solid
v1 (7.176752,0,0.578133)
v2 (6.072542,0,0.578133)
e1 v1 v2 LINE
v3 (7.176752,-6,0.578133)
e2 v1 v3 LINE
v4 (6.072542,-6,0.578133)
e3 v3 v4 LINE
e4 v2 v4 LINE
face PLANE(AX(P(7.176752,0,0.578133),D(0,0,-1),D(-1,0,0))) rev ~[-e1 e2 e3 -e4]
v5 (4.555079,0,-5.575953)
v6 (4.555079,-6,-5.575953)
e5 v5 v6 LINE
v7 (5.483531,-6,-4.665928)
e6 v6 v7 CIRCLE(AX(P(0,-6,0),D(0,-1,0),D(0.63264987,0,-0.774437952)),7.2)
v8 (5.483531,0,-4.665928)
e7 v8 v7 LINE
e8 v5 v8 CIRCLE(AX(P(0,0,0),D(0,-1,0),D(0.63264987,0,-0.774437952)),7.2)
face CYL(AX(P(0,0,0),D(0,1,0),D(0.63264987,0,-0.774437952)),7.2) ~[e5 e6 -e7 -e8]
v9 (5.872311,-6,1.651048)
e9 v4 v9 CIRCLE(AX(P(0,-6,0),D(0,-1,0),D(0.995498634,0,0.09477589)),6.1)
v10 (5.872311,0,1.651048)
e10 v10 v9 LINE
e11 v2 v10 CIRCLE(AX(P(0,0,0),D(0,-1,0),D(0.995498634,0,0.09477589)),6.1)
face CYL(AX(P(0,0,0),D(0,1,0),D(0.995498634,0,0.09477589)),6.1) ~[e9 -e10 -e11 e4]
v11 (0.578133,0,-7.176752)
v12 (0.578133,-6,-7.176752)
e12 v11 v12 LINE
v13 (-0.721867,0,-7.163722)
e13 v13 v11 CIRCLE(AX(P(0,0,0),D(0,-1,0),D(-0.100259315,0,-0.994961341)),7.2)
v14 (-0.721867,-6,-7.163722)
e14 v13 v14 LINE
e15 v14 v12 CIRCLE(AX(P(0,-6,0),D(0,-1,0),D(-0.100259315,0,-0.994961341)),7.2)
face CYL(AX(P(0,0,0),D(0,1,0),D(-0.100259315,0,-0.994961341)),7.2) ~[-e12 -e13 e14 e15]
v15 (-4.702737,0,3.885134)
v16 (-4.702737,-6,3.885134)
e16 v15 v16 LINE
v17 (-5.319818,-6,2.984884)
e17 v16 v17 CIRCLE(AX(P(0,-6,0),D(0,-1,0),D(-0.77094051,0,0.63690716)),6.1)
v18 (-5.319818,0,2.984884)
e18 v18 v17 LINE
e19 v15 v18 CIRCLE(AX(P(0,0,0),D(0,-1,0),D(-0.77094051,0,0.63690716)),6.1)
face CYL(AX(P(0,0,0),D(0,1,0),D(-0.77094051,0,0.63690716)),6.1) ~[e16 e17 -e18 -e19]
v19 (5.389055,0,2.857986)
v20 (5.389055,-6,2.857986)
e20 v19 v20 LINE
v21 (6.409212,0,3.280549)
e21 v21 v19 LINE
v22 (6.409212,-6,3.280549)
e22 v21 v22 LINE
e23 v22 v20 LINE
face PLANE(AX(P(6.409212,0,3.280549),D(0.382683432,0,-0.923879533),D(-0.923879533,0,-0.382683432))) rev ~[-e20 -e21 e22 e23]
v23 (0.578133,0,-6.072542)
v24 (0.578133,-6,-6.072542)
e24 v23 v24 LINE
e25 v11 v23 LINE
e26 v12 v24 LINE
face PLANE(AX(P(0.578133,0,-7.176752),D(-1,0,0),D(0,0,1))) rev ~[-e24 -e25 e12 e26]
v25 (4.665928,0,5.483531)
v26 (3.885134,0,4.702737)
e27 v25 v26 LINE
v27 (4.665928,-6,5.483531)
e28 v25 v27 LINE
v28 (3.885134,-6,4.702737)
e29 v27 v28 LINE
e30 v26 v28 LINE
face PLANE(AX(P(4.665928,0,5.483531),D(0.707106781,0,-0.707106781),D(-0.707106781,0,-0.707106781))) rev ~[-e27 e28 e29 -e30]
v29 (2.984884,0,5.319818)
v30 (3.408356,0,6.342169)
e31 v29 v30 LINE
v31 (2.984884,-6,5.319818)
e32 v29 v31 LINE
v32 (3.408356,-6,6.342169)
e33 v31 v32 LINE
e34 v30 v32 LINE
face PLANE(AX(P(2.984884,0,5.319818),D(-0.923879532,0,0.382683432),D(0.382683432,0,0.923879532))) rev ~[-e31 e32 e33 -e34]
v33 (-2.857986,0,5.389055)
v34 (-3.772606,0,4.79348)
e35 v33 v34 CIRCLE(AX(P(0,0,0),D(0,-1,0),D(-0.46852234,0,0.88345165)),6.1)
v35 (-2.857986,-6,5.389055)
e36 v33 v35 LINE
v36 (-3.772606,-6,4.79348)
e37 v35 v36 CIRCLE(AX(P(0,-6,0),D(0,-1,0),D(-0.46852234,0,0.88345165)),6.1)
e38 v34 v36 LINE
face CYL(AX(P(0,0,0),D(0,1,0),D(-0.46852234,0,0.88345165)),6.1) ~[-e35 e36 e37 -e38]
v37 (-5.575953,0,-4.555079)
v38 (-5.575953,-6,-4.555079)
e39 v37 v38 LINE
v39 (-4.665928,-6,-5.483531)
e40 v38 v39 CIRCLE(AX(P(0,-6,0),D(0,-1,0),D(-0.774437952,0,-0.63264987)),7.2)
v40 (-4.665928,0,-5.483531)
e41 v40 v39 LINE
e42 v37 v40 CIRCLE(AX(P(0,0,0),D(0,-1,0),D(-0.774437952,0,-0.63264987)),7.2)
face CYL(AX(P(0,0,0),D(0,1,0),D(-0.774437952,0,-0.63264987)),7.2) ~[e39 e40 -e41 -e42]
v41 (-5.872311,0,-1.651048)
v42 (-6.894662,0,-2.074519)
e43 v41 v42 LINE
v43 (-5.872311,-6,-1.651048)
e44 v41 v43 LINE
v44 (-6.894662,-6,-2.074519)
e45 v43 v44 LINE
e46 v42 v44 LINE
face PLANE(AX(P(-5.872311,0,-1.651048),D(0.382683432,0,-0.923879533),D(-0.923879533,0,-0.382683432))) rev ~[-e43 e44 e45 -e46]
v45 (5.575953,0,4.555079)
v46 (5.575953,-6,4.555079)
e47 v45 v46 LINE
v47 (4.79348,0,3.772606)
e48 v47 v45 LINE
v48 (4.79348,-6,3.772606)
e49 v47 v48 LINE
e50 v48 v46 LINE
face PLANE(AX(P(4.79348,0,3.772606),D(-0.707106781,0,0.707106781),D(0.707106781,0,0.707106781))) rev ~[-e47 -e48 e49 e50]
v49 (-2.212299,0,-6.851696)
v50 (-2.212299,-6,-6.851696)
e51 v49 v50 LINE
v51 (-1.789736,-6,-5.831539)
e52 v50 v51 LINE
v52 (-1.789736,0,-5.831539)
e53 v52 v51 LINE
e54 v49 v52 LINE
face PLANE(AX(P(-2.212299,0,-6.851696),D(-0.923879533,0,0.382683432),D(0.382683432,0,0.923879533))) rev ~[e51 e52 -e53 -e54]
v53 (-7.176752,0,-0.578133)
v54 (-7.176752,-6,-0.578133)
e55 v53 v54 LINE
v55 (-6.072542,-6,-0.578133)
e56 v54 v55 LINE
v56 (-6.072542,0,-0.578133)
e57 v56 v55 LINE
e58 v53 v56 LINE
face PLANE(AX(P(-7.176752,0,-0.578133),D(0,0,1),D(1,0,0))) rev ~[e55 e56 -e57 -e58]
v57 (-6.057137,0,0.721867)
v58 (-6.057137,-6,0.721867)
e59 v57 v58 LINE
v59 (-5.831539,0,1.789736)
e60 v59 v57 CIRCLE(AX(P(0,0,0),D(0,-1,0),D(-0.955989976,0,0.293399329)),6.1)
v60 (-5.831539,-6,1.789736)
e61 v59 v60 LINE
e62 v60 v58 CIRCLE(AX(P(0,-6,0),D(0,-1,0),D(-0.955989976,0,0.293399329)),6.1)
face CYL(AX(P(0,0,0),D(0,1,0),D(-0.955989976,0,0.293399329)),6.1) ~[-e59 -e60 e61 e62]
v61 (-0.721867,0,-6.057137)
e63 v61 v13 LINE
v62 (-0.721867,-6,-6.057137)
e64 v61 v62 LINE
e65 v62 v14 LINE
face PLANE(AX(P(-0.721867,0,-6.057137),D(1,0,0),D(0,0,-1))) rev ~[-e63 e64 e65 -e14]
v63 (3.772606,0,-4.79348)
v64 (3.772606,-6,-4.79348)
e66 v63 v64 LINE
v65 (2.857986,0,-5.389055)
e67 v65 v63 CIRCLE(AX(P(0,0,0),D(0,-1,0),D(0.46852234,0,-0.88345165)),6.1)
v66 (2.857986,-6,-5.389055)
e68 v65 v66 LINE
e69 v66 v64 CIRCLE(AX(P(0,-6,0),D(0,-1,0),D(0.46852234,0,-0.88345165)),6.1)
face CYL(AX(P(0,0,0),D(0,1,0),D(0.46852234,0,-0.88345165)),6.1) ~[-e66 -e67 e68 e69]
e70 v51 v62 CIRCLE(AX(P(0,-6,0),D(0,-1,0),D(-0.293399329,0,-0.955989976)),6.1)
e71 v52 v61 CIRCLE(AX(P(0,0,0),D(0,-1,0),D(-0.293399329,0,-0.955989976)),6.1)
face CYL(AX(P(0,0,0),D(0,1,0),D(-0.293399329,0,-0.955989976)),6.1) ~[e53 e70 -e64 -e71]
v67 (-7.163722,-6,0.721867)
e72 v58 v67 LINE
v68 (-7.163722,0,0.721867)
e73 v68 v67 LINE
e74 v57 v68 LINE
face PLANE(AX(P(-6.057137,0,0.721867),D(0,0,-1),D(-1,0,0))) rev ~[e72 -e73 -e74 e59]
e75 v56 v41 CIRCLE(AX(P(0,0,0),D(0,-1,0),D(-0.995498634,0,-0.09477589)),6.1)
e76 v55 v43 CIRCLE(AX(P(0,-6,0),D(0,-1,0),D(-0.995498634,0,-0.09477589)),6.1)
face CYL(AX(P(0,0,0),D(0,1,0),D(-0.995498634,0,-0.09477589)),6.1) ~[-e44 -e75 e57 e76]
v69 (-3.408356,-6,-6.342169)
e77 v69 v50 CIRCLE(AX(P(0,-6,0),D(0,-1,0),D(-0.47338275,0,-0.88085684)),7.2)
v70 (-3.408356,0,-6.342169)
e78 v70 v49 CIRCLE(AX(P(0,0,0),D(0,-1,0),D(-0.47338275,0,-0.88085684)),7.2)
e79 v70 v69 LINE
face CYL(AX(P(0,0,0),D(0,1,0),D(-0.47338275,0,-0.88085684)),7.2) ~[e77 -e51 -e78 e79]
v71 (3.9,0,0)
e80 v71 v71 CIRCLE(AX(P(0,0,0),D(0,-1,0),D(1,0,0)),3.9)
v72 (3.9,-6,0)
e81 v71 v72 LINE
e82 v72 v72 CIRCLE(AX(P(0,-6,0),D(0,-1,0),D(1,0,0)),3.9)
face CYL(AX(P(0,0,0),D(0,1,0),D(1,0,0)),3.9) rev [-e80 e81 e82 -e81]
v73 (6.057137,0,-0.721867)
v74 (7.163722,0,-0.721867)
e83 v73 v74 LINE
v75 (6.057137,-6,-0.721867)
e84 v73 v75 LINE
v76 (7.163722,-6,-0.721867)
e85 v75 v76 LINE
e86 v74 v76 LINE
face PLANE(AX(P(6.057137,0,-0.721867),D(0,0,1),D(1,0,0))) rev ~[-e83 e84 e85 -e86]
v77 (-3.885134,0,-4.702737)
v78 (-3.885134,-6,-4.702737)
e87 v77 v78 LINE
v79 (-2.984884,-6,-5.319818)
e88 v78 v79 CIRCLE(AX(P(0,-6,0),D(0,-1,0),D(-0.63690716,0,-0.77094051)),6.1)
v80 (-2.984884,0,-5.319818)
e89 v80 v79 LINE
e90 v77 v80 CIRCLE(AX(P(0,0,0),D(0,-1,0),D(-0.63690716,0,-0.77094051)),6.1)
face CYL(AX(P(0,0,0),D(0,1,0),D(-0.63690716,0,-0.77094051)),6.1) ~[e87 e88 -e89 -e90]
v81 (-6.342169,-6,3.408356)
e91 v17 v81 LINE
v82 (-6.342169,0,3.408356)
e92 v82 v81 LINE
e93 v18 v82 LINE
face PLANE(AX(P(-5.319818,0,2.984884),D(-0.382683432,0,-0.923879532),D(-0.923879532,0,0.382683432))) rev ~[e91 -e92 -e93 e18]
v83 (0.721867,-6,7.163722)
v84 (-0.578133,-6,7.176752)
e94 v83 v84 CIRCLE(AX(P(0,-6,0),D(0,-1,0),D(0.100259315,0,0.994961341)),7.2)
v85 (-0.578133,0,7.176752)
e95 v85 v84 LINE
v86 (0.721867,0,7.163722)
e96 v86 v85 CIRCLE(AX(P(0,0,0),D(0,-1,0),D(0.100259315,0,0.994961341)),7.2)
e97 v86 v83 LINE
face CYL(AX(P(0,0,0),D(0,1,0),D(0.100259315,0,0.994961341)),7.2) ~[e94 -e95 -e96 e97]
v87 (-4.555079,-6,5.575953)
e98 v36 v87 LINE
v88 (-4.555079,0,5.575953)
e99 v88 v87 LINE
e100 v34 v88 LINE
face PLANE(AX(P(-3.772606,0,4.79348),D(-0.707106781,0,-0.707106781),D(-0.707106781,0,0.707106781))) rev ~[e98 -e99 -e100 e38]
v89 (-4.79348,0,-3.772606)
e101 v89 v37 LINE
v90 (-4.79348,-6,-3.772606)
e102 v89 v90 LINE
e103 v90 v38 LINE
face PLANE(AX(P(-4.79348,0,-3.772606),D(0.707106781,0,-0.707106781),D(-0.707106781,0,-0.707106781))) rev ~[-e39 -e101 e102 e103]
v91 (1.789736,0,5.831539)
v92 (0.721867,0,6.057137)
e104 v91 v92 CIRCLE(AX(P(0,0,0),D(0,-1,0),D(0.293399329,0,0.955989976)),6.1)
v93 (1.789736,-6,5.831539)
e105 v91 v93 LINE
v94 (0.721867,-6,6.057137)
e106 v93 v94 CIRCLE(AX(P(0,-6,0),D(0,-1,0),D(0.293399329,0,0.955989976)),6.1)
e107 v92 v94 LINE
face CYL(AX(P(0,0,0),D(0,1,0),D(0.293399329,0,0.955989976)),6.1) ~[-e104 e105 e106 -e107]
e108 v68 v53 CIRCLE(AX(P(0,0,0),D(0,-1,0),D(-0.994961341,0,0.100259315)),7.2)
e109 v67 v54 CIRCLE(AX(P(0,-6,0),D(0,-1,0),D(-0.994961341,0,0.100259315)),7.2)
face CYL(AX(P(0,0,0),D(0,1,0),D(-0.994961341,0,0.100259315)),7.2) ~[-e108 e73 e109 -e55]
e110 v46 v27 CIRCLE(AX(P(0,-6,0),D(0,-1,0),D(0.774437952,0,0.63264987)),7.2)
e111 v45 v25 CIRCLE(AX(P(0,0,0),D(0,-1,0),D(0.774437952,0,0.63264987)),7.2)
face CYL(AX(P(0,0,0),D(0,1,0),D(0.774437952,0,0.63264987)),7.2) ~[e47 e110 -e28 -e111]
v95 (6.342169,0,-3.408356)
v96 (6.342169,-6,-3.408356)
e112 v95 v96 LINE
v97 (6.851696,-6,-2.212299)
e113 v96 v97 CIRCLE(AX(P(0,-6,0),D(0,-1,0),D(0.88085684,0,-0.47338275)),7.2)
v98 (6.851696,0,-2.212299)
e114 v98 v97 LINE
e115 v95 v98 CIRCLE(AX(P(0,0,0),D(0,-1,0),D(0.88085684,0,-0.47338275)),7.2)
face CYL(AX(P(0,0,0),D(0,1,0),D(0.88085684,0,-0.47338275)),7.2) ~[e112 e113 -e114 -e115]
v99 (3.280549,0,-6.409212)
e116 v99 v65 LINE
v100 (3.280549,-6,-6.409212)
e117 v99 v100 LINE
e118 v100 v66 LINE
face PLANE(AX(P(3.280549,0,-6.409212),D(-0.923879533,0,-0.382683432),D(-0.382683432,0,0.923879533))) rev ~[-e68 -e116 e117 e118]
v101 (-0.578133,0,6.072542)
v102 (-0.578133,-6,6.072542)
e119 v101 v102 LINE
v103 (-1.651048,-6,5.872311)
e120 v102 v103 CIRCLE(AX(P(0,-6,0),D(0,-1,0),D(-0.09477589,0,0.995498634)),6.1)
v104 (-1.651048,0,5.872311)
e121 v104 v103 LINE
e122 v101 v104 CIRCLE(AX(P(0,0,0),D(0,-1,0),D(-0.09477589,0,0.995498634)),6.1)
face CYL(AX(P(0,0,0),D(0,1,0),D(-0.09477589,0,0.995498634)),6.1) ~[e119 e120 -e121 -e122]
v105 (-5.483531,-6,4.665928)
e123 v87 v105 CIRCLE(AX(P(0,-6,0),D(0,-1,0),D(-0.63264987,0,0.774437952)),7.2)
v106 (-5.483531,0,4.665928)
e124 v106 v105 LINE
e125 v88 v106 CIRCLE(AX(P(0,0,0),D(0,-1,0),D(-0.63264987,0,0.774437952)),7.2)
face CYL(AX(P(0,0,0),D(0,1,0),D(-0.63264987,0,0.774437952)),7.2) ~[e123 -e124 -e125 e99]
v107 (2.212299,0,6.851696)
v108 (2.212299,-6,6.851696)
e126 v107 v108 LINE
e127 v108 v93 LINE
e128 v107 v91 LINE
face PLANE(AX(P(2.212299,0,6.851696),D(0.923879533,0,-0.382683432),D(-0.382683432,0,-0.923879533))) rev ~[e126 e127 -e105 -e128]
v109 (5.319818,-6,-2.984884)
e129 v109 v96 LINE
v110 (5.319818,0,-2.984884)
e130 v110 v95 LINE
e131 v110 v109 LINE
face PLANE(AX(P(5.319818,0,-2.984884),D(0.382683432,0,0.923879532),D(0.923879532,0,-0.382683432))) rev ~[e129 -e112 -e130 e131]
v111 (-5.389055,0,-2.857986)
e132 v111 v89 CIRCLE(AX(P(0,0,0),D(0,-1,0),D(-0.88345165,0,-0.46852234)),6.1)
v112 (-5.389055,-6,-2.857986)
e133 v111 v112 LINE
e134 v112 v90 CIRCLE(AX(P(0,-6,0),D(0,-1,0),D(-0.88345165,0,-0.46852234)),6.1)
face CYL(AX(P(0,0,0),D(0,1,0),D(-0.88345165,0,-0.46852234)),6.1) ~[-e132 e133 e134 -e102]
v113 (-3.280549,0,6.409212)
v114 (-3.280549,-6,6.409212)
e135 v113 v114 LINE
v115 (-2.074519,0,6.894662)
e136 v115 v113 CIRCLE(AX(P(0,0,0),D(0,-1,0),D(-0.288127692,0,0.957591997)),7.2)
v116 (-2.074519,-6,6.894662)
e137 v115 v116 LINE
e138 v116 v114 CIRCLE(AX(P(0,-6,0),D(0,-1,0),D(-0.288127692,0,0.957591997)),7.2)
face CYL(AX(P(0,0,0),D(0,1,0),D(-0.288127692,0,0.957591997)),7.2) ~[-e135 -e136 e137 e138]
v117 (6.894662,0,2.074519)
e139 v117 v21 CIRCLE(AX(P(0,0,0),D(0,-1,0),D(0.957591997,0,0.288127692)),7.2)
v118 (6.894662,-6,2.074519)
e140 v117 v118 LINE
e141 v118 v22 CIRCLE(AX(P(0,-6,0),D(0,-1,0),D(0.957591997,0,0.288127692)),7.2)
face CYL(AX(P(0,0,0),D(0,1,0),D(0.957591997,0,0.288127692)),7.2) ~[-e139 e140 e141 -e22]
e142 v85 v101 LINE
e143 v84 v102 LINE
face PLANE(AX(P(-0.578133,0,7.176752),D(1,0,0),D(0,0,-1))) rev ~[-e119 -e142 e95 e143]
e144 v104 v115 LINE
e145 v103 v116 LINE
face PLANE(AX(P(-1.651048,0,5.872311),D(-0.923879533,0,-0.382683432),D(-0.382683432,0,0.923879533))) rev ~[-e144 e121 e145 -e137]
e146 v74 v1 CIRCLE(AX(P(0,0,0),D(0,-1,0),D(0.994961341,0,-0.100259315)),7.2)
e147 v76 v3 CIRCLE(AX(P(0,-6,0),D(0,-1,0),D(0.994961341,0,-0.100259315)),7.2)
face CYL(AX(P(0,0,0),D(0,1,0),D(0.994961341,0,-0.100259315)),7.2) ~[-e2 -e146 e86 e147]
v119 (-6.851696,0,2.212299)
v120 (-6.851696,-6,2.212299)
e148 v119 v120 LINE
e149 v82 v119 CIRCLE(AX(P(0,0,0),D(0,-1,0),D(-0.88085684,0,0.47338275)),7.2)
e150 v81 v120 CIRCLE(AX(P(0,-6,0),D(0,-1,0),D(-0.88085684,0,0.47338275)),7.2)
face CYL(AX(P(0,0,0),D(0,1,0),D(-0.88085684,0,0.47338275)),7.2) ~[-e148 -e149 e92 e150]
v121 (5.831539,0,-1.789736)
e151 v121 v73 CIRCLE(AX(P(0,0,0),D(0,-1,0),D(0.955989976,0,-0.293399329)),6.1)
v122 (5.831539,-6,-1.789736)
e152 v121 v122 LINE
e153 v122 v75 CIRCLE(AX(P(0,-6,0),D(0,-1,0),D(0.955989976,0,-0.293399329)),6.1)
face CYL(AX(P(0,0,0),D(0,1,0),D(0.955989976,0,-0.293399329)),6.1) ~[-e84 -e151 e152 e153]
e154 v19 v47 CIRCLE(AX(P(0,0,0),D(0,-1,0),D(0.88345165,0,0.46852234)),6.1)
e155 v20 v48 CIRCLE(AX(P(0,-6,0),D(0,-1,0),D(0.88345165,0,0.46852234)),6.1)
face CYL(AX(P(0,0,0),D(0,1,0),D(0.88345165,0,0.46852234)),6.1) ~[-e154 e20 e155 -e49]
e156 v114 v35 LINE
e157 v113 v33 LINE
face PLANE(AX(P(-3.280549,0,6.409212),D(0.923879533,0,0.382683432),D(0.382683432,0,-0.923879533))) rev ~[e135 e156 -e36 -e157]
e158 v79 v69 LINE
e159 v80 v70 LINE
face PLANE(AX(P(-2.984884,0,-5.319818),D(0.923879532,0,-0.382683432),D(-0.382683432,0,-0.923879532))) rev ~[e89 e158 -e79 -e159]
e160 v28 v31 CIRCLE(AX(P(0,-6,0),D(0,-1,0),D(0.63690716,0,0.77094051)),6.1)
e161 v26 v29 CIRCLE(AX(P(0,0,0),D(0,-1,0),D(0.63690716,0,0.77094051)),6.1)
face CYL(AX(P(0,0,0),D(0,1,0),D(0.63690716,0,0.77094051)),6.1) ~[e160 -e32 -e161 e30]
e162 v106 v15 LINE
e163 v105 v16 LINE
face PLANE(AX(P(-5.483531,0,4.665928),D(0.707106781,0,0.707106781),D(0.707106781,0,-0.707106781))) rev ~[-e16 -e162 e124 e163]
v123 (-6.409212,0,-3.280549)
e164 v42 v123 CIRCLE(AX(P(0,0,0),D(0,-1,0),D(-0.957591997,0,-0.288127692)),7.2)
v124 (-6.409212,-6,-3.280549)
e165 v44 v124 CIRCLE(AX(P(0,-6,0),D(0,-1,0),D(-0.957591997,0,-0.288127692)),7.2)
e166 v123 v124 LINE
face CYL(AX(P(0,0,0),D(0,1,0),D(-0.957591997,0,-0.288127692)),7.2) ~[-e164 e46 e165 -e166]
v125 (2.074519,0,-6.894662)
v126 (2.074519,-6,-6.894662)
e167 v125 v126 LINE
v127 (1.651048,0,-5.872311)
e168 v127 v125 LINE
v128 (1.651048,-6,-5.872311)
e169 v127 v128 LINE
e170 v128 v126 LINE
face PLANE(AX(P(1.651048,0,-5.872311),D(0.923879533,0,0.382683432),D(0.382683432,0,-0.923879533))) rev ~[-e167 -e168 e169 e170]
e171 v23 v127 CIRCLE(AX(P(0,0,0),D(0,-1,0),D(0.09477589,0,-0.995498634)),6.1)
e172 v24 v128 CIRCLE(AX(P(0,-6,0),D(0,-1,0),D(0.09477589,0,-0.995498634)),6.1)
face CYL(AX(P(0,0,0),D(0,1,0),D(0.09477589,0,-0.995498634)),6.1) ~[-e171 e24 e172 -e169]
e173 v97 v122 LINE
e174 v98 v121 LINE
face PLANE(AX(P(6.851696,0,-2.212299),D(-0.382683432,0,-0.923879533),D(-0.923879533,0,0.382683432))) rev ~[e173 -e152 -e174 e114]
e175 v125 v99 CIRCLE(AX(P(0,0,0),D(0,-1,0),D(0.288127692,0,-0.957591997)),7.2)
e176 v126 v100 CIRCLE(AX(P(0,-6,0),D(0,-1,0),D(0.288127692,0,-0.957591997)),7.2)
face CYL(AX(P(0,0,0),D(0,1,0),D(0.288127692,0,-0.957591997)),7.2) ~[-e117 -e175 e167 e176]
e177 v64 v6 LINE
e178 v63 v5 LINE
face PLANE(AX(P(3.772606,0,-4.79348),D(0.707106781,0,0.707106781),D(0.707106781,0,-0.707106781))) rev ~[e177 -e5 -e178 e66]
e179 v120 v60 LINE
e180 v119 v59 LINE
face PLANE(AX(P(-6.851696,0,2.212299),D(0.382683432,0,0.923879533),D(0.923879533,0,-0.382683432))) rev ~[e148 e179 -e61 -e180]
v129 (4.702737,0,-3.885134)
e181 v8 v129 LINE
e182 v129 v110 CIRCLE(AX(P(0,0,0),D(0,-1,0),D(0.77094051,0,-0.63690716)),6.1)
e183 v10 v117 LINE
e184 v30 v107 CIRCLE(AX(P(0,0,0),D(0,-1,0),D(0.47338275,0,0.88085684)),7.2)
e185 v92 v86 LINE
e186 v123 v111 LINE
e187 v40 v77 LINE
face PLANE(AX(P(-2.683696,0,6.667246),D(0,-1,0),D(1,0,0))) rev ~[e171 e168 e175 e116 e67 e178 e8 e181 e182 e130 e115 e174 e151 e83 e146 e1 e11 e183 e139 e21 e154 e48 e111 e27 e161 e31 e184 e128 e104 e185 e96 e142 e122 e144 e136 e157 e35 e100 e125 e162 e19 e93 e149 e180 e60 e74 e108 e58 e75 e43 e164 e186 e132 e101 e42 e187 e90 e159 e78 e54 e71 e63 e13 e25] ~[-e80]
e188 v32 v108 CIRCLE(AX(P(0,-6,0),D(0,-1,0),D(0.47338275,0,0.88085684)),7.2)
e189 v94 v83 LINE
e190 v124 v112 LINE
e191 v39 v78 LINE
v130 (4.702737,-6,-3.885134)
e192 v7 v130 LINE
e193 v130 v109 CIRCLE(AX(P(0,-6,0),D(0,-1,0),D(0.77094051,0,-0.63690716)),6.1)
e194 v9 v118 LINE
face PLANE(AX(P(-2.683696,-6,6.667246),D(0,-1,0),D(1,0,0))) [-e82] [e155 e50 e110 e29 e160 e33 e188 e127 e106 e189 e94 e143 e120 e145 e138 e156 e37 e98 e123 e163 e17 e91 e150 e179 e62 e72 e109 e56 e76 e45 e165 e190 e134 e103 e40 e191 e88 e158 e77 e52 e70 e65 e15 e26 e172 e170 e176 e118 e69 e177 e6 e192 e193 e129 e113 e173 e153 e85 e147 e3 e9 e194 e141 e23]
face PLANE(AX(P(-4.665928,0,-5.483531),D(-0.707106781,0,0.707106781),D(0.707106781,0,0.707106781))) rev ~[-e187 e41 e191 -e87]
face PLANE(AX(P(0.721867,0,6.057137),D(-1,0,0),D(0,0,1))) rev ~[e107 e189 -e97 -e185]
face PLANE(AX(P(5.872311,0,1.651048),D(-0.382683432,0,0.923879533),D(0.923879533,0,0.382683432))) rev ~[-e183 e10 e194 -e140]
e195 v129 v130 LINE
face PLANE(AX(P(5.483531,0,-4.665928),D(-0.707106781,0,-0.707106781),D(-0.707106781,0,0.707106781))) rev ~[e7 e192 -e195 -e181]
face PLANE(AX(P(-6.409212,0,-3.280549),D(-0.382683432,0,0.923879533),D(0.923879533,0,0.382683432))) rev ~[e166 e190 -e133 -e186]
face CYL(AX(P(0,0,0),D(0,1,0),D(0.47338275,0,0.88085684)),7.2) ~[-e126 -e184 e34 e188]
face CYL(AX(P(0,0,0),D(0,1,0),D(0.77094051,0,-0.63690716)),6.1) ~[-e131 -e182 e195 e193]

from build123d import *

# Parameters (mm, degrees)
F0_R     = 3.9
F1_DEPTH = 6


with BuildPart() as f1:
    # F0 (on Front) → F1 (new body)
    with BuildSketch(Plane.XZ):
        with BuildLine():
            ThreePointArc((-3.2805490865, 6.4092119399), (-2.6873537016, 6.6763321717), (-2.0745193822, 6.8946623799))
            ThreePointArc((-2.0745193822, 6.8946623799), (-2.68851355, 6.6792136432), (-3.2805490865, 6.4092119399))
        make_face()
        with BuildLine():
            Line((-1.6510477465, 5.8723114136), (-2.0745193822, 6.8946623799))
            ThreePointArc((-2.0745193822, 6.8946623799), (-2.6873537016, 6.6763321717), (-3.2805490865, 6.4092119399))
            Line((-3.2805490865, 6.4092119399), (-2.8579862722, 5.3890550626))
            ThreePointArc((-2.8579862722, 5.3890550626), (-2.2685531961, 5.6657387827), (-1.6510477465, 5.8723114136))
        make_face()
        with BuildLine():
            ThreePointArc((-0.5781329325, 6.0725416682), (-1.119077595, 5.9964710736), (-1.6510477465, 5.8723114136))
            ThreePointArc((-1.6510477465, 5.8723114136), (-2.2674283055, 5.662929355), (-2.8579862722, 5.3890550626))
            ThreePointArc((-2.8579862722, 5.3890550626), (-3.3286430178, 5.1117644371), (-3.7726055079, 4.793479705))
            ThreePointArc((-3.7726055079, 4.793479705), (-4.2619398457, 4.3641572785), (-4.7027371096, 3.8851336757))
            ThreePointArc((-4.7027371096, 3.8851336757), (-5.0314527154, 3.4488380032), (-5.3198182794, 2.9848841642))
            ThreePointArc((-5.3198182794, 2.9848841642), (-5.607609679, 2.4009818176), (-5.8315388526, 1.7897359054))
            ThreePointArc((-5.8315388526, 1.7897359054), (-5.9682693473, 1.2608572472), (-6.0571369422, 0.7218670675))
            ThreePointArc((-6.0571369422, 0.7218670675), (-6.0995717717, 0.0722786399), (-6.0725416682, -0.5781329325))
            ThreePointArc((-6.0725416682, -0.5781329325), (-5.9964710736, -1.119077595), (-5.8723114136, -1.6510477465))
            ThreePointArc((-5.8723114136, -1.6510477465), (-5.662929355, -2.2674283055), (-5.3890550626, -2.8579862722))
            ThreePointArc((-5.3890550626, -2.8579862722), (-5.1117644371, -3.3286430178), (-4.793479705, -3.7726055079))
            ThreePointArc((-4.793479705, -3.7726055079), (-4.3641572785, -4.2619398457), (-3.8851336757, -4.7027371096))
            ThreePointArc((-3.8851336757, -4.7027371096), (-3.4488380032, -5.0314527154), (-2.9848841642, -5.3198182794))
            ThreePointArc((-2.9848841642, -5.3198182794), (-2.4009818176, -5.607609679), (-1.7897359054, -5.8315388526))
            ThreePointArc((-1.7897359054, -5.8315388526), (-1.2608572472, -5.9682693473), (-0.7218670675, -6.0571369422))
            ThreePointArc((-0.7218670675, -6.0571369422), (-0.0722786399, -6.0995717717), (0.5781329325, -6.0725416682))
            ThreePointArc((0.5781329325, -6.0725416682), (1.119077595, -5.9964710736), (1.6510477465, -5.8723114136))
            ThreePointArc((1.6510477465, -5.8723114136), (2.2674283055, -5.662929355), (2.8579862722, -5.3890550626))
            ThreePointArc((2.8579862722, -5.3890550626), (3.3286430178, -5.1117644371), (3.7726055079, -4.793479705))
            ThreePointArc((3.7726055079, -4.793479705), (4.2619398457, -4.3641572785), (4.7027371096, -3.8851336757))
            ThreePointArc((4.7027371096, -3.8851336757), (5.0314527154, -3.4488380032), (5.3198182794, -2.9848841642))
            ThreePointArc((5.3198182794, -2.9848841642), (5.607609679, -2.4009818176), (5.8315388526, -1.7897359054))
            ThreePointArc((5.8315388526, -1.7897359054), (5.9682693473, -1.2608572472), (6.0571369422, -0.7218670675))
            ThreePointArc((6.0571369422, -0.7218670675), (6.0892748069, -0.3615692551), (6.1, 0))
            ThreePointArc((6.1, 0), (6.0931315502, 0.2893923149), (6.0725416682, 0.5781329325))
            ThreePointArc((6.0725416682, 0.5781329325), (5.9964710736, 1.119077595), (5.8723114136, 1.6510477465))
            ThreePointArc((5.8723114136, 1.6510477465), (5.662929355, 2.2674283055), (5.3890550626, 2.8579862722))
            ThreePointArc((5.3890550626, 2.8579862722), (5.1117644371, 3.3286430178), (4.793479705, 3.7726055079))
            ThreePointArc((4.793479705, 3.7726055079), (4.3641572785, 4.2619398457), (3.8851336757, 4.7027371096))
            ThreePointArc((3.8851336757, 4.7027371096), (3.4488380032, 5.0314527154), (2.9848841642, 5.3198182794))
            ThreePointArc((2.9848841642, 5.3198182794), (2.4009818176, 5.607609679), (1.7897359054, 5.8315388526))
            ThreePointArc((1.7897359054, 5.8315388526), (1.2608572472, 5.9682693473), (0.7218670675, 6.0571369422))
            ThreePointArc((0.7218670675, 6.0571369422), (0.0722786399, 6.0995717717), (-0.5781329325, 6.0725416682))
        make_face()
        Circle(F0_R, mode=Mode.SUBTRACT)
        with BuildLine():
            ThreePointArc((-2.8579862722, 5.3890550626), (-2.2674283055, 5.662929355), (-1.6510477465, 5.8723114136))
            ThreePointArc((-1.6510477465, 5.8723114136), (-2.2685531961, 5.6657387827), (-2.8579862722, 5.3890550626))
        make_face()
        with BuildLine():
            ThreePointArc((0.7218670675, 6.0571369422), (0.072314498, 6.1025978215), (-0.5781329325, 6.0725416682))
            ThreePointArc((-0.5781329325, 6.0725416682), (0.0722786399, 6.0995717717), (0.7218670675, 6.0571369422))
        make_face()
        with BuildLine():
            Line((-0.5781329325, 7.1767515153), (-0.5781329325, 6.0725416682))
            ThreePointArc((-0.5781329325, 6.0725416682), (0.072314498, 6.1025978215), (0.7218670675, 6.0571369422))
            Line((0.7218670675, 6.0571369422), (0.7218670675, 7.1637216541))
            ThreePointArc((0.7218670675, 7.1637216541), (0.0721306295, 7.1965323841), (-0.5781329325, 7.1767515153))
        make_face()
        with BuildLine():
            ThreePointArc((-4.7027371096, 3.8851336757), (-4.2640542305, 4.3663223743), (-3.7726055079, 4.793479705))
            Line((-3.7726055079, 4.793479705), (-4.5550790616, 5.5759532587))
            ThreePointArc((-4.5550790616, 5.5759532587), (-5.0377127926, 5.1397209071), (-5.4835313803, 4.6659279464))
            Line((-5.4835313803, 4.6659279464), (-4.7027371096, 3.8851336757))
        make_face()
        with BuildLine():
            ThreePointArc((-4.7027371096, 3.8851336757), (-4.2619398457, 4.3641572785), (-3.7726055079, 4.793479705))
            ThreePointArc((-3.7726055079, 4.793479705), (-4.2640542305, 4.3663223743), (-4.7027371096, 3.8851336757))
        make_face()
        with BuildLine():
            ThreePointArc((0.7218670675, 7.1637216541), (0.0721617607, 7.1996383715), (-0.5781329325, 7.1767515153))
            ThreePointArc((-0.5781329325, 7.1767515153), (0.0721306295, 7.1965323841), (0.7218670675, 7.1637216541))
        make_face()
        with BuildLine():
            ThreePointArc((-5.4835313803, 4.6659279464), (-5.0377127926, 5.1397209071), (-4.5550790616, 5.5759532587))
            ThreePointArc((-4.5550790616, 5.5759532587), (-5.0398870442, 5.1419391849), (-5.4835313803, 4.6659279464))
        make_face()
        with BuildLine():
            ThreePointArc((2.9848841642, 5.3198182794), (2.4021729653, 5.6103916621), (1.7897359054, 5.8315388526))
            ThreePointArc((1.7897359054, 5.8315388526), (2.4009818176, 5.607609679), (2.9848841642, 5.3198182794))
        make_face()
        with BuildLine():
            Line((2.2122987197, 6.8516957299), (1.7897359054, 5.8315388526))
            ThreePointArc((1.7897359054, 5.8315388526), (2.4021729653, 5.6103916621), (2.9848841642, 5.3198182794))
            Line((2.9848841642, 5.3198182794), (3.4083558, 6.3421692457))
            ThreePointArc((3.4083558, 6.3421692457), (2.8206337262, 6.6211257779), (2.2122987197, 6.8516957299))
        make_face()
        with BuildLine():
            ThreePointArc((-5.8315388526, 1.7897359054), (-5.6103916621, 2.4021729653), (-5.3198182794, 2.9848841642))
            Line((-5.3198182794, 2.9848841642), (-6.3421692457, 3.4083558))
            ThreePointArc((-6.3421692457, 3.4083558), (-6.6211257779, 2.8206337262), (-6.8516957299, 2.2122987197))
            Line((-6.8516957299, 2.2122987197), (-5.8315388526, 1.7897359054))
        make_face()
        with BuildLine():
            ThreePointArc((-5.8315388526, 1.7897359054), (-5.607609679, 2.4009818176), (-5.3198182794, 2.9848841642))
            ThreePointArc((-5.3198182794, 2.9848841642), (-5.6103916621, 2.4021729653), (-5.8315388526, 1.7897359054))
        make_face()
        with BuildLine():
            ThreePointArc((3.4083558, 6.3421692457), (2.8218510976, 6.6239834226), (2.2122987197, 6.8516957299))
            ThreePointArc((2.2122987197, 6.8516957299), (2.8206337262, 6.6211257779), (3.4083558, 6.3421692457))
        make_face()
        with BuildLine():
            ThreePointArc((-6.8516957299, 2.2122987197), (-6.6211257779, 2.8206337262), (-6.3421692457, 3.4083558))
            ThreePointArc((-6.3421692457, 3.4083558), (-6.6239834226, 2.8218510976), (-6.8516957299, 2.2122987197))
        make_face()
        with BuildLine():
            ThreePointArc((4.793479705, 3.7726055079), (4.3663223743, 4.2640542305), (3.8851336757, 4.7027371096))
            ThreePointArc((3.8851336757, 4.7027371096), (4.3641572785, 4.2619398457), (4.793479705, 3.7726055079))
        make_face()
        with BuildLine():
            Line((4.6659279464, 5.4835313803), (3.8851336757, 4.7027371096))
            ThreePointArc((3.8851336757, 4.7027371096), (4.3663223743, 4.2640542305), (4.793479705, 3.7726055079))
            Line((4.793479705, 3.7726055079), (5.5759532587, 4.5550790616))
            ThreePointArc((5.5759532587, 4.5550790616), (5.1397209071, 5.0377127926), (4.6659279464, 5.4835313803))
        make_face()
        with BuildLine():
            ThreePointArc((-6.0725416682, -0.5781329325), (-6.1025978215, 0.072314498), (-6.0571369422, 0.7218670675))
            Line((-6.0571369422, 0.7218670675), (-7.1637216541, 0.7218670675))
            ThreePointArc((-7.1637216541, 0.7218670675), (-7.1965323841, 0.0721306295), (-7.1767515153, -0.5781329325))
            Line((-7.1767515153, -0.5781329325), (-6.0725416682, -0.5781329325))
        make_face()
        with BuildLine():
            ThreePointArc((-6.0725416682, -0.5781329325), (-6.0995717717, 0.0722786399), (-6.0571369422, 0.7218670675))
            ThreePointArc((-6.0571369422, 0.7218670675), (-6.1025978215, 0.072314498), (-6.0725416682, -0.5781329325))
        make_face()
        with BuildLine():
            ThreePointArc((5.5759532587, 4.5550790616), (5.1419391849, 5.0398870442), (4.6659279464, 5.4835313803))
            ThreePointArc((4.6659279464, 5.4835313803), (5.1397209071, 5.0377127926), (5.5759532587, 4.5550790616))
        make_face()
        with BuildLine():
            ThreePointArc((-7.1767515153, -0.5781329325), (-7.1965323841, 0.0721306295), (-7.1637216541, 0.7218670675))
            ThreePointArc((-7.1637216541, 0.7218670675), (-7.1996383715, 0.0721617607), (-7.1767515153, -0.5781329325))
        make_face()
        with BuildLine():
            ThreePointArc((5.8723114136, 1.6510477465), (5.6657387827, 2.2685531961), (5.3890550626, 2.8579862722))
            ThreePointArc((5.3890550626, 2.8579862722), (5.662929355, 2.2674283055), (5.8723114136, 1.6510477465))
        make_face()
        with BuildLine():
            Line((6.4092119399, 3.2805490865), (5.3890550626, 2.8579862722))
            ThreePointArc((5.3890550626, 2.8579862722), (5.6657387827, 2.2685531961), (5.8723114136, 1.6510477465))
            Line((5.8723114136, 1.6510477465), (6.8946623799, 2.0745193822))
            ThreePointArc((6.8946623799, 2.0745193822), (6.6763321717, 2.6873537016), (6.4092119399, 3.2805490865))
        make_face()
        with BuildLine():
            ThreePointArc((-5.3890550626, -2.8579862722), (-5.6657387827, -2.2685531961), (-5.8723114136, -1.6510477465))
            Line((-5.8723114136, -1.6510477465), (-6.8946623799, -2.0745193822))
            ThreePointArc((-6.8946623799, -2.0745193822), (-6.6763321717, -2.6873537016), (-6.4092119399, -3.2805490865))
            Line((-6.4092119399, -3.2805490865), (-5.3890550626, -2.8579862722))
        make_face()
        with BuildLine():
            ThreePointArc((-5.3890550626, -2.8579862722), (-5.662929355, -2.2674283055), (-5.8723114136, -1.6510477465))
            ThreePointArc((-5.8723114136, -1.6510477465), (-5.6657387827, -2.2685531961), (-5.3890550626, -2.8579862722))
        make_face()
        with BuildLine():
            ThreePointArc((6.8946623799, 2.0745193822), (6.6792136432, 2.68851355), (6.4092119399, 3.2805490865))
            ThreePointArc((6.4092119399, 3.2805490865), (6.6763321717, 2.6873537016), (6.8946623799, 2.0745193822))
        make_face()
        with BuildLine():
            ThreePointArc((-6.4092119399, -3.2805490865), (-6.6763321717, -2.6873537016), (-6.8946623799, -2.0745193822))
            ThreePointArc((-6.8946623799, -2.0745193822), (-6.6792136432, -2.68851355), (-6.4092119399, -3.2805490865))
        make_face()
        with BuildLine():
            ThreePointArc((6.0571369422, -0.7218670675), (6.1025978215, -0.072314498), (6.0725416682, 0.5781329325))
            ThreePointArc((6.0725416682, 0.5781329325), (6.0931315502, 0.2893923149), (6.1, 0))
            ThreePointArc((6.1, 0), (6.0892748069, -0.3615692551), (6.0571369422, -0.7218670675))
        make_face()
        with BuildLine():
            Line((7.1767515153, 0.5781329325), (6.0725416682, 0.5781329325))
            ThreePointArc((6.0725416682, 0.5781329325), (6.1025978215, -0.072314498), (6.0571369422, -0.7218670675))
            Line((6.0571369422, -0.7218670675), (7.1637216541, -0.7218670675))
            ThreePointArc((7.1637216541, -0.7218670675), (7.1965323841, -0.0721306295), (7.1767515153, 0.5781329325))
        make_face()
        with BuildLine():
            ThreePointArc((-3.8851336757, -4.7027371096), (-4.3663223743, -4.2640542305), (-4.793479705, -3.7726055079))
            Line((-4.793479705, -3.7726055079), (-5.5759532587, -4.5550790616))
            ThreePointArc((-5.5759532587, -4.5550790616), (-5.1397209071, -5.0377127926), (-4.6659279464, -5.4835313803))
            Line((-4.6659279464, -5.4835313803), (-3.8851336757, -4.7027371096))
        make_face()
        with BuildLine():
            ThreePointArc((-3.8851336757, -4.7027371096), (-4.3641572785, -4.2619398457), (-4.793479705, -3.7726055079))
            ThreePointArc((-4.793479705, -3.7726055079), (-4.3663223743, -4.2640542305), (-3.8851336757, -4.7027371096))
        make_face()
        with BuildLine():
            ThreePointArc((7.1637216541, -0.7218670675), (7.1996383715, -0.0721617607), (7.1767515153, 0.5781329325))
            ThreePointArc((7.1767515153, 0.5781329325), (7.1965323841, -0.0721306295), (7.1637216541, -0.7218670675))
        make_face()
        with BuildLine():
            ThreePointArc((-4.6659279464, -5.4835313803), (-5.1397209071, -5.0377127926), (-5.5759532587, -4.5550790616))
            ThreePointArc((-5.5759532587, -4.5550790616), (-5.1419391849, -5.0398870442), (-4.6659279464, -5.4835313803))
        make_face()
        with BuildLine():
            ThreePointArc((5.3198182794, -2.9848841642), (5.6103916621, -2.4021729653), (5.8315388526, -1.7897359054))
            ThreePointArc((5.8315388526, -1.7897359054), (5.607609679, -2.4009818176), (5.3198182794, -2.9848841642))
        make_face()
        with BuildLine():
            Line((6.8516957299, -2.2122987197), (5.8315388526, -1.7897359054))
            ThreePointArc((5.8315388526, -1.7897359054), (5.6103916621, -2.4021729653), (5.3198182794, -2.9848841642))
            Line((5.3198182794, -2.9848841642), (6.3421692457, -3.4083558))
            ThreePointArc((6.3421692457, -3.4083558), (6.6211257779, -2.8206337262), (6.8516957299, -2.2122987197))
        make_face()
        with BuildLine():
            ThreePointArc((-1.7897359054, -5.8315388526), (-2.4021729653, -5.6103916621), (-2.9848841642, -5.3198182794))
            Line((-2.9848841642, -5.3198182794), (-3.4083558, -6.3421692457))
            ThreePointArc((-3.4083558, -6.3421692457), (-2.8206337262, -6.6211257779), (-2.2122987197, -6.8516957299))
            Line((-2.2122987197, -6.8516957299), (-1.7897359054, -5.8315388526))
        make_face()
        with BuildLine():
            ThreePointArc((-1.7897359054, -5.8315388526), (-2.4009818176, -5.607609679), (-2.9848841642, -5.3198182794))
            ThreePointArc((-2.9848841642, -5.3198182794), (-2.4021729653, -5.6103916621), (-1.7897359054, -5.8315388526))
        make_face()
        with BuildLine():
            ThreePointArc((6.3421692457, -3.4083558), (6.6239834226, -2.8218510976), (6.8516957299, -2.2122987197))
            ThreePointArc((6.8516957299, -2.2122987197), (6.6211257779, -2.8206337262), (6.3421692457, -3.4083558))
        make_face()
        with BuildLine():
            ThreePointArc((-2.2122987197, -6.8516957299), (-2.8206337262, -6.6211257779), (-3.4083558, -6.3421692457))
            ThreePointArc((-3.4083558, -6.3421692457), (-2.8218510976, -6.6239834226), (-2.2122987197, -6.8516957299))
        make_face()
        with BuildLine():
            ThreePointArc((3.7726055079, -4.793479705), (4.2640542305, -4.3663223743), (4.7027371096, -3.8851336757))
            ThreePointArc((4.7027371096, -3.8851336757), (4.2619398457, -4.3641572785), (3.7726055079, -4.793479705))
        make_face()
        with BuildLine():
            Line((5.4835313803, -4.6659279464), (4.7027371096, -3.8851336757))
            ThreePointArc((4.7027371096, -3.8851336757), (4.2640542305, -4.3663223743), (3.7726055079, -4.793479705))
            Line((3.7726055079, -4.793479705), (4.5550790616, -5.5759532587))
            ThreePointArc((4.5550790616, -5.5759532587), (5.0377127926, -5.1397209071), (5.4835313803, -4.6659279464))
        make_face()
        with BuildLine():
            ThreePointArc((0.5781329325, -6.0725416682), (-0.072314498, -6.1025978215), (-0.7218670675, -6.0571369422))
            Line((-0.7218670675, -6.0571369422), (-0.7218670675, -7.1637216541))
            ThreePointArc((-0.7218670675, -7.1637216541), (-0.0721306295, -7.1965323841), (0.5781329325, -7.1767515153))
            Line((0.5781329325, -7.1767515153), (0.5781329325, -6.0725416682))
        make_face()
        with BuildLine():
            ThreePointArc((0.5781329325, -6.0725416682), (-0.0722786399, -6.0995717717), (-0.7218670675, -6.0571369422))
            ThreePointArc((-0.7218670675, -6.0571369422), (-0.072314498, -6.1025978215), (0.5781329325, -6.0725416682))
        make_face()
        with BuildLine():
            ThreePointArc((4.5550790616, -5.5759532587), (5.0398870442, -5.1419391849), (5.4835313803, -4.6659279464))
            ThreePointArc((5.4835313803, -4.6659279464), (5.0377127926, -5.1397209071), (4.5550790616, -5.5759532587))
        make_face()
        with BuildLine():
            ThreePointArc((0.5781329325, -7.1767515153), (-0.0721306295, -7.1965323841), (-0.7218670675, -7.1637216541))
            ThreePointArc((-0.7218670675, -7.1637216541), (-0.0721617607, -7.1996383715), (0.5781329325, -7.1767515153))
        make_face()
        with BuildLine():
            ThreePointArc((1.6510477465, -5.8723114136), (2.2685531961, -5.6657387827), (2.8579862722, -5.3890550626))
            ThreePointArc((2.8579862722, -5.3890550626), (2.2674283055, -5.662929355), (1.6510477465, -5.8723114136))
        make_face()
        with BuildLine():
            Line((3.2805490865, -6.4092119399), (2.8579862722, -5.3890550626))
            ThreePointArc((2.8579862722, -5.3890550626), (2.2685531961, -5.6657387827), (1.6510477465, -5.8723114136))
            Line((1.6510477465, -5.8723114136), (2.0745193822, -6.8946623799))
            ThreePointArc((2.0745193822, -6.8946623799), (2.6873537016, -6.6763321717), (3.2805490865, -6.4092119399))
        make_face()
        with BuildLine():
            ThreePointArc((2.0745193822, -6.8946623799), (2.68851355, -6.6792136432), (3.2805490865, -6.4092119399))
            ThreePointArc((3.2805490865, -6.4092119399), (2.6873537016, -6.6763321717), (2.0745193822, -6.8946623799))
        make_face()
    extrude(amount=F1_DEPTH)


solid = f1.part
